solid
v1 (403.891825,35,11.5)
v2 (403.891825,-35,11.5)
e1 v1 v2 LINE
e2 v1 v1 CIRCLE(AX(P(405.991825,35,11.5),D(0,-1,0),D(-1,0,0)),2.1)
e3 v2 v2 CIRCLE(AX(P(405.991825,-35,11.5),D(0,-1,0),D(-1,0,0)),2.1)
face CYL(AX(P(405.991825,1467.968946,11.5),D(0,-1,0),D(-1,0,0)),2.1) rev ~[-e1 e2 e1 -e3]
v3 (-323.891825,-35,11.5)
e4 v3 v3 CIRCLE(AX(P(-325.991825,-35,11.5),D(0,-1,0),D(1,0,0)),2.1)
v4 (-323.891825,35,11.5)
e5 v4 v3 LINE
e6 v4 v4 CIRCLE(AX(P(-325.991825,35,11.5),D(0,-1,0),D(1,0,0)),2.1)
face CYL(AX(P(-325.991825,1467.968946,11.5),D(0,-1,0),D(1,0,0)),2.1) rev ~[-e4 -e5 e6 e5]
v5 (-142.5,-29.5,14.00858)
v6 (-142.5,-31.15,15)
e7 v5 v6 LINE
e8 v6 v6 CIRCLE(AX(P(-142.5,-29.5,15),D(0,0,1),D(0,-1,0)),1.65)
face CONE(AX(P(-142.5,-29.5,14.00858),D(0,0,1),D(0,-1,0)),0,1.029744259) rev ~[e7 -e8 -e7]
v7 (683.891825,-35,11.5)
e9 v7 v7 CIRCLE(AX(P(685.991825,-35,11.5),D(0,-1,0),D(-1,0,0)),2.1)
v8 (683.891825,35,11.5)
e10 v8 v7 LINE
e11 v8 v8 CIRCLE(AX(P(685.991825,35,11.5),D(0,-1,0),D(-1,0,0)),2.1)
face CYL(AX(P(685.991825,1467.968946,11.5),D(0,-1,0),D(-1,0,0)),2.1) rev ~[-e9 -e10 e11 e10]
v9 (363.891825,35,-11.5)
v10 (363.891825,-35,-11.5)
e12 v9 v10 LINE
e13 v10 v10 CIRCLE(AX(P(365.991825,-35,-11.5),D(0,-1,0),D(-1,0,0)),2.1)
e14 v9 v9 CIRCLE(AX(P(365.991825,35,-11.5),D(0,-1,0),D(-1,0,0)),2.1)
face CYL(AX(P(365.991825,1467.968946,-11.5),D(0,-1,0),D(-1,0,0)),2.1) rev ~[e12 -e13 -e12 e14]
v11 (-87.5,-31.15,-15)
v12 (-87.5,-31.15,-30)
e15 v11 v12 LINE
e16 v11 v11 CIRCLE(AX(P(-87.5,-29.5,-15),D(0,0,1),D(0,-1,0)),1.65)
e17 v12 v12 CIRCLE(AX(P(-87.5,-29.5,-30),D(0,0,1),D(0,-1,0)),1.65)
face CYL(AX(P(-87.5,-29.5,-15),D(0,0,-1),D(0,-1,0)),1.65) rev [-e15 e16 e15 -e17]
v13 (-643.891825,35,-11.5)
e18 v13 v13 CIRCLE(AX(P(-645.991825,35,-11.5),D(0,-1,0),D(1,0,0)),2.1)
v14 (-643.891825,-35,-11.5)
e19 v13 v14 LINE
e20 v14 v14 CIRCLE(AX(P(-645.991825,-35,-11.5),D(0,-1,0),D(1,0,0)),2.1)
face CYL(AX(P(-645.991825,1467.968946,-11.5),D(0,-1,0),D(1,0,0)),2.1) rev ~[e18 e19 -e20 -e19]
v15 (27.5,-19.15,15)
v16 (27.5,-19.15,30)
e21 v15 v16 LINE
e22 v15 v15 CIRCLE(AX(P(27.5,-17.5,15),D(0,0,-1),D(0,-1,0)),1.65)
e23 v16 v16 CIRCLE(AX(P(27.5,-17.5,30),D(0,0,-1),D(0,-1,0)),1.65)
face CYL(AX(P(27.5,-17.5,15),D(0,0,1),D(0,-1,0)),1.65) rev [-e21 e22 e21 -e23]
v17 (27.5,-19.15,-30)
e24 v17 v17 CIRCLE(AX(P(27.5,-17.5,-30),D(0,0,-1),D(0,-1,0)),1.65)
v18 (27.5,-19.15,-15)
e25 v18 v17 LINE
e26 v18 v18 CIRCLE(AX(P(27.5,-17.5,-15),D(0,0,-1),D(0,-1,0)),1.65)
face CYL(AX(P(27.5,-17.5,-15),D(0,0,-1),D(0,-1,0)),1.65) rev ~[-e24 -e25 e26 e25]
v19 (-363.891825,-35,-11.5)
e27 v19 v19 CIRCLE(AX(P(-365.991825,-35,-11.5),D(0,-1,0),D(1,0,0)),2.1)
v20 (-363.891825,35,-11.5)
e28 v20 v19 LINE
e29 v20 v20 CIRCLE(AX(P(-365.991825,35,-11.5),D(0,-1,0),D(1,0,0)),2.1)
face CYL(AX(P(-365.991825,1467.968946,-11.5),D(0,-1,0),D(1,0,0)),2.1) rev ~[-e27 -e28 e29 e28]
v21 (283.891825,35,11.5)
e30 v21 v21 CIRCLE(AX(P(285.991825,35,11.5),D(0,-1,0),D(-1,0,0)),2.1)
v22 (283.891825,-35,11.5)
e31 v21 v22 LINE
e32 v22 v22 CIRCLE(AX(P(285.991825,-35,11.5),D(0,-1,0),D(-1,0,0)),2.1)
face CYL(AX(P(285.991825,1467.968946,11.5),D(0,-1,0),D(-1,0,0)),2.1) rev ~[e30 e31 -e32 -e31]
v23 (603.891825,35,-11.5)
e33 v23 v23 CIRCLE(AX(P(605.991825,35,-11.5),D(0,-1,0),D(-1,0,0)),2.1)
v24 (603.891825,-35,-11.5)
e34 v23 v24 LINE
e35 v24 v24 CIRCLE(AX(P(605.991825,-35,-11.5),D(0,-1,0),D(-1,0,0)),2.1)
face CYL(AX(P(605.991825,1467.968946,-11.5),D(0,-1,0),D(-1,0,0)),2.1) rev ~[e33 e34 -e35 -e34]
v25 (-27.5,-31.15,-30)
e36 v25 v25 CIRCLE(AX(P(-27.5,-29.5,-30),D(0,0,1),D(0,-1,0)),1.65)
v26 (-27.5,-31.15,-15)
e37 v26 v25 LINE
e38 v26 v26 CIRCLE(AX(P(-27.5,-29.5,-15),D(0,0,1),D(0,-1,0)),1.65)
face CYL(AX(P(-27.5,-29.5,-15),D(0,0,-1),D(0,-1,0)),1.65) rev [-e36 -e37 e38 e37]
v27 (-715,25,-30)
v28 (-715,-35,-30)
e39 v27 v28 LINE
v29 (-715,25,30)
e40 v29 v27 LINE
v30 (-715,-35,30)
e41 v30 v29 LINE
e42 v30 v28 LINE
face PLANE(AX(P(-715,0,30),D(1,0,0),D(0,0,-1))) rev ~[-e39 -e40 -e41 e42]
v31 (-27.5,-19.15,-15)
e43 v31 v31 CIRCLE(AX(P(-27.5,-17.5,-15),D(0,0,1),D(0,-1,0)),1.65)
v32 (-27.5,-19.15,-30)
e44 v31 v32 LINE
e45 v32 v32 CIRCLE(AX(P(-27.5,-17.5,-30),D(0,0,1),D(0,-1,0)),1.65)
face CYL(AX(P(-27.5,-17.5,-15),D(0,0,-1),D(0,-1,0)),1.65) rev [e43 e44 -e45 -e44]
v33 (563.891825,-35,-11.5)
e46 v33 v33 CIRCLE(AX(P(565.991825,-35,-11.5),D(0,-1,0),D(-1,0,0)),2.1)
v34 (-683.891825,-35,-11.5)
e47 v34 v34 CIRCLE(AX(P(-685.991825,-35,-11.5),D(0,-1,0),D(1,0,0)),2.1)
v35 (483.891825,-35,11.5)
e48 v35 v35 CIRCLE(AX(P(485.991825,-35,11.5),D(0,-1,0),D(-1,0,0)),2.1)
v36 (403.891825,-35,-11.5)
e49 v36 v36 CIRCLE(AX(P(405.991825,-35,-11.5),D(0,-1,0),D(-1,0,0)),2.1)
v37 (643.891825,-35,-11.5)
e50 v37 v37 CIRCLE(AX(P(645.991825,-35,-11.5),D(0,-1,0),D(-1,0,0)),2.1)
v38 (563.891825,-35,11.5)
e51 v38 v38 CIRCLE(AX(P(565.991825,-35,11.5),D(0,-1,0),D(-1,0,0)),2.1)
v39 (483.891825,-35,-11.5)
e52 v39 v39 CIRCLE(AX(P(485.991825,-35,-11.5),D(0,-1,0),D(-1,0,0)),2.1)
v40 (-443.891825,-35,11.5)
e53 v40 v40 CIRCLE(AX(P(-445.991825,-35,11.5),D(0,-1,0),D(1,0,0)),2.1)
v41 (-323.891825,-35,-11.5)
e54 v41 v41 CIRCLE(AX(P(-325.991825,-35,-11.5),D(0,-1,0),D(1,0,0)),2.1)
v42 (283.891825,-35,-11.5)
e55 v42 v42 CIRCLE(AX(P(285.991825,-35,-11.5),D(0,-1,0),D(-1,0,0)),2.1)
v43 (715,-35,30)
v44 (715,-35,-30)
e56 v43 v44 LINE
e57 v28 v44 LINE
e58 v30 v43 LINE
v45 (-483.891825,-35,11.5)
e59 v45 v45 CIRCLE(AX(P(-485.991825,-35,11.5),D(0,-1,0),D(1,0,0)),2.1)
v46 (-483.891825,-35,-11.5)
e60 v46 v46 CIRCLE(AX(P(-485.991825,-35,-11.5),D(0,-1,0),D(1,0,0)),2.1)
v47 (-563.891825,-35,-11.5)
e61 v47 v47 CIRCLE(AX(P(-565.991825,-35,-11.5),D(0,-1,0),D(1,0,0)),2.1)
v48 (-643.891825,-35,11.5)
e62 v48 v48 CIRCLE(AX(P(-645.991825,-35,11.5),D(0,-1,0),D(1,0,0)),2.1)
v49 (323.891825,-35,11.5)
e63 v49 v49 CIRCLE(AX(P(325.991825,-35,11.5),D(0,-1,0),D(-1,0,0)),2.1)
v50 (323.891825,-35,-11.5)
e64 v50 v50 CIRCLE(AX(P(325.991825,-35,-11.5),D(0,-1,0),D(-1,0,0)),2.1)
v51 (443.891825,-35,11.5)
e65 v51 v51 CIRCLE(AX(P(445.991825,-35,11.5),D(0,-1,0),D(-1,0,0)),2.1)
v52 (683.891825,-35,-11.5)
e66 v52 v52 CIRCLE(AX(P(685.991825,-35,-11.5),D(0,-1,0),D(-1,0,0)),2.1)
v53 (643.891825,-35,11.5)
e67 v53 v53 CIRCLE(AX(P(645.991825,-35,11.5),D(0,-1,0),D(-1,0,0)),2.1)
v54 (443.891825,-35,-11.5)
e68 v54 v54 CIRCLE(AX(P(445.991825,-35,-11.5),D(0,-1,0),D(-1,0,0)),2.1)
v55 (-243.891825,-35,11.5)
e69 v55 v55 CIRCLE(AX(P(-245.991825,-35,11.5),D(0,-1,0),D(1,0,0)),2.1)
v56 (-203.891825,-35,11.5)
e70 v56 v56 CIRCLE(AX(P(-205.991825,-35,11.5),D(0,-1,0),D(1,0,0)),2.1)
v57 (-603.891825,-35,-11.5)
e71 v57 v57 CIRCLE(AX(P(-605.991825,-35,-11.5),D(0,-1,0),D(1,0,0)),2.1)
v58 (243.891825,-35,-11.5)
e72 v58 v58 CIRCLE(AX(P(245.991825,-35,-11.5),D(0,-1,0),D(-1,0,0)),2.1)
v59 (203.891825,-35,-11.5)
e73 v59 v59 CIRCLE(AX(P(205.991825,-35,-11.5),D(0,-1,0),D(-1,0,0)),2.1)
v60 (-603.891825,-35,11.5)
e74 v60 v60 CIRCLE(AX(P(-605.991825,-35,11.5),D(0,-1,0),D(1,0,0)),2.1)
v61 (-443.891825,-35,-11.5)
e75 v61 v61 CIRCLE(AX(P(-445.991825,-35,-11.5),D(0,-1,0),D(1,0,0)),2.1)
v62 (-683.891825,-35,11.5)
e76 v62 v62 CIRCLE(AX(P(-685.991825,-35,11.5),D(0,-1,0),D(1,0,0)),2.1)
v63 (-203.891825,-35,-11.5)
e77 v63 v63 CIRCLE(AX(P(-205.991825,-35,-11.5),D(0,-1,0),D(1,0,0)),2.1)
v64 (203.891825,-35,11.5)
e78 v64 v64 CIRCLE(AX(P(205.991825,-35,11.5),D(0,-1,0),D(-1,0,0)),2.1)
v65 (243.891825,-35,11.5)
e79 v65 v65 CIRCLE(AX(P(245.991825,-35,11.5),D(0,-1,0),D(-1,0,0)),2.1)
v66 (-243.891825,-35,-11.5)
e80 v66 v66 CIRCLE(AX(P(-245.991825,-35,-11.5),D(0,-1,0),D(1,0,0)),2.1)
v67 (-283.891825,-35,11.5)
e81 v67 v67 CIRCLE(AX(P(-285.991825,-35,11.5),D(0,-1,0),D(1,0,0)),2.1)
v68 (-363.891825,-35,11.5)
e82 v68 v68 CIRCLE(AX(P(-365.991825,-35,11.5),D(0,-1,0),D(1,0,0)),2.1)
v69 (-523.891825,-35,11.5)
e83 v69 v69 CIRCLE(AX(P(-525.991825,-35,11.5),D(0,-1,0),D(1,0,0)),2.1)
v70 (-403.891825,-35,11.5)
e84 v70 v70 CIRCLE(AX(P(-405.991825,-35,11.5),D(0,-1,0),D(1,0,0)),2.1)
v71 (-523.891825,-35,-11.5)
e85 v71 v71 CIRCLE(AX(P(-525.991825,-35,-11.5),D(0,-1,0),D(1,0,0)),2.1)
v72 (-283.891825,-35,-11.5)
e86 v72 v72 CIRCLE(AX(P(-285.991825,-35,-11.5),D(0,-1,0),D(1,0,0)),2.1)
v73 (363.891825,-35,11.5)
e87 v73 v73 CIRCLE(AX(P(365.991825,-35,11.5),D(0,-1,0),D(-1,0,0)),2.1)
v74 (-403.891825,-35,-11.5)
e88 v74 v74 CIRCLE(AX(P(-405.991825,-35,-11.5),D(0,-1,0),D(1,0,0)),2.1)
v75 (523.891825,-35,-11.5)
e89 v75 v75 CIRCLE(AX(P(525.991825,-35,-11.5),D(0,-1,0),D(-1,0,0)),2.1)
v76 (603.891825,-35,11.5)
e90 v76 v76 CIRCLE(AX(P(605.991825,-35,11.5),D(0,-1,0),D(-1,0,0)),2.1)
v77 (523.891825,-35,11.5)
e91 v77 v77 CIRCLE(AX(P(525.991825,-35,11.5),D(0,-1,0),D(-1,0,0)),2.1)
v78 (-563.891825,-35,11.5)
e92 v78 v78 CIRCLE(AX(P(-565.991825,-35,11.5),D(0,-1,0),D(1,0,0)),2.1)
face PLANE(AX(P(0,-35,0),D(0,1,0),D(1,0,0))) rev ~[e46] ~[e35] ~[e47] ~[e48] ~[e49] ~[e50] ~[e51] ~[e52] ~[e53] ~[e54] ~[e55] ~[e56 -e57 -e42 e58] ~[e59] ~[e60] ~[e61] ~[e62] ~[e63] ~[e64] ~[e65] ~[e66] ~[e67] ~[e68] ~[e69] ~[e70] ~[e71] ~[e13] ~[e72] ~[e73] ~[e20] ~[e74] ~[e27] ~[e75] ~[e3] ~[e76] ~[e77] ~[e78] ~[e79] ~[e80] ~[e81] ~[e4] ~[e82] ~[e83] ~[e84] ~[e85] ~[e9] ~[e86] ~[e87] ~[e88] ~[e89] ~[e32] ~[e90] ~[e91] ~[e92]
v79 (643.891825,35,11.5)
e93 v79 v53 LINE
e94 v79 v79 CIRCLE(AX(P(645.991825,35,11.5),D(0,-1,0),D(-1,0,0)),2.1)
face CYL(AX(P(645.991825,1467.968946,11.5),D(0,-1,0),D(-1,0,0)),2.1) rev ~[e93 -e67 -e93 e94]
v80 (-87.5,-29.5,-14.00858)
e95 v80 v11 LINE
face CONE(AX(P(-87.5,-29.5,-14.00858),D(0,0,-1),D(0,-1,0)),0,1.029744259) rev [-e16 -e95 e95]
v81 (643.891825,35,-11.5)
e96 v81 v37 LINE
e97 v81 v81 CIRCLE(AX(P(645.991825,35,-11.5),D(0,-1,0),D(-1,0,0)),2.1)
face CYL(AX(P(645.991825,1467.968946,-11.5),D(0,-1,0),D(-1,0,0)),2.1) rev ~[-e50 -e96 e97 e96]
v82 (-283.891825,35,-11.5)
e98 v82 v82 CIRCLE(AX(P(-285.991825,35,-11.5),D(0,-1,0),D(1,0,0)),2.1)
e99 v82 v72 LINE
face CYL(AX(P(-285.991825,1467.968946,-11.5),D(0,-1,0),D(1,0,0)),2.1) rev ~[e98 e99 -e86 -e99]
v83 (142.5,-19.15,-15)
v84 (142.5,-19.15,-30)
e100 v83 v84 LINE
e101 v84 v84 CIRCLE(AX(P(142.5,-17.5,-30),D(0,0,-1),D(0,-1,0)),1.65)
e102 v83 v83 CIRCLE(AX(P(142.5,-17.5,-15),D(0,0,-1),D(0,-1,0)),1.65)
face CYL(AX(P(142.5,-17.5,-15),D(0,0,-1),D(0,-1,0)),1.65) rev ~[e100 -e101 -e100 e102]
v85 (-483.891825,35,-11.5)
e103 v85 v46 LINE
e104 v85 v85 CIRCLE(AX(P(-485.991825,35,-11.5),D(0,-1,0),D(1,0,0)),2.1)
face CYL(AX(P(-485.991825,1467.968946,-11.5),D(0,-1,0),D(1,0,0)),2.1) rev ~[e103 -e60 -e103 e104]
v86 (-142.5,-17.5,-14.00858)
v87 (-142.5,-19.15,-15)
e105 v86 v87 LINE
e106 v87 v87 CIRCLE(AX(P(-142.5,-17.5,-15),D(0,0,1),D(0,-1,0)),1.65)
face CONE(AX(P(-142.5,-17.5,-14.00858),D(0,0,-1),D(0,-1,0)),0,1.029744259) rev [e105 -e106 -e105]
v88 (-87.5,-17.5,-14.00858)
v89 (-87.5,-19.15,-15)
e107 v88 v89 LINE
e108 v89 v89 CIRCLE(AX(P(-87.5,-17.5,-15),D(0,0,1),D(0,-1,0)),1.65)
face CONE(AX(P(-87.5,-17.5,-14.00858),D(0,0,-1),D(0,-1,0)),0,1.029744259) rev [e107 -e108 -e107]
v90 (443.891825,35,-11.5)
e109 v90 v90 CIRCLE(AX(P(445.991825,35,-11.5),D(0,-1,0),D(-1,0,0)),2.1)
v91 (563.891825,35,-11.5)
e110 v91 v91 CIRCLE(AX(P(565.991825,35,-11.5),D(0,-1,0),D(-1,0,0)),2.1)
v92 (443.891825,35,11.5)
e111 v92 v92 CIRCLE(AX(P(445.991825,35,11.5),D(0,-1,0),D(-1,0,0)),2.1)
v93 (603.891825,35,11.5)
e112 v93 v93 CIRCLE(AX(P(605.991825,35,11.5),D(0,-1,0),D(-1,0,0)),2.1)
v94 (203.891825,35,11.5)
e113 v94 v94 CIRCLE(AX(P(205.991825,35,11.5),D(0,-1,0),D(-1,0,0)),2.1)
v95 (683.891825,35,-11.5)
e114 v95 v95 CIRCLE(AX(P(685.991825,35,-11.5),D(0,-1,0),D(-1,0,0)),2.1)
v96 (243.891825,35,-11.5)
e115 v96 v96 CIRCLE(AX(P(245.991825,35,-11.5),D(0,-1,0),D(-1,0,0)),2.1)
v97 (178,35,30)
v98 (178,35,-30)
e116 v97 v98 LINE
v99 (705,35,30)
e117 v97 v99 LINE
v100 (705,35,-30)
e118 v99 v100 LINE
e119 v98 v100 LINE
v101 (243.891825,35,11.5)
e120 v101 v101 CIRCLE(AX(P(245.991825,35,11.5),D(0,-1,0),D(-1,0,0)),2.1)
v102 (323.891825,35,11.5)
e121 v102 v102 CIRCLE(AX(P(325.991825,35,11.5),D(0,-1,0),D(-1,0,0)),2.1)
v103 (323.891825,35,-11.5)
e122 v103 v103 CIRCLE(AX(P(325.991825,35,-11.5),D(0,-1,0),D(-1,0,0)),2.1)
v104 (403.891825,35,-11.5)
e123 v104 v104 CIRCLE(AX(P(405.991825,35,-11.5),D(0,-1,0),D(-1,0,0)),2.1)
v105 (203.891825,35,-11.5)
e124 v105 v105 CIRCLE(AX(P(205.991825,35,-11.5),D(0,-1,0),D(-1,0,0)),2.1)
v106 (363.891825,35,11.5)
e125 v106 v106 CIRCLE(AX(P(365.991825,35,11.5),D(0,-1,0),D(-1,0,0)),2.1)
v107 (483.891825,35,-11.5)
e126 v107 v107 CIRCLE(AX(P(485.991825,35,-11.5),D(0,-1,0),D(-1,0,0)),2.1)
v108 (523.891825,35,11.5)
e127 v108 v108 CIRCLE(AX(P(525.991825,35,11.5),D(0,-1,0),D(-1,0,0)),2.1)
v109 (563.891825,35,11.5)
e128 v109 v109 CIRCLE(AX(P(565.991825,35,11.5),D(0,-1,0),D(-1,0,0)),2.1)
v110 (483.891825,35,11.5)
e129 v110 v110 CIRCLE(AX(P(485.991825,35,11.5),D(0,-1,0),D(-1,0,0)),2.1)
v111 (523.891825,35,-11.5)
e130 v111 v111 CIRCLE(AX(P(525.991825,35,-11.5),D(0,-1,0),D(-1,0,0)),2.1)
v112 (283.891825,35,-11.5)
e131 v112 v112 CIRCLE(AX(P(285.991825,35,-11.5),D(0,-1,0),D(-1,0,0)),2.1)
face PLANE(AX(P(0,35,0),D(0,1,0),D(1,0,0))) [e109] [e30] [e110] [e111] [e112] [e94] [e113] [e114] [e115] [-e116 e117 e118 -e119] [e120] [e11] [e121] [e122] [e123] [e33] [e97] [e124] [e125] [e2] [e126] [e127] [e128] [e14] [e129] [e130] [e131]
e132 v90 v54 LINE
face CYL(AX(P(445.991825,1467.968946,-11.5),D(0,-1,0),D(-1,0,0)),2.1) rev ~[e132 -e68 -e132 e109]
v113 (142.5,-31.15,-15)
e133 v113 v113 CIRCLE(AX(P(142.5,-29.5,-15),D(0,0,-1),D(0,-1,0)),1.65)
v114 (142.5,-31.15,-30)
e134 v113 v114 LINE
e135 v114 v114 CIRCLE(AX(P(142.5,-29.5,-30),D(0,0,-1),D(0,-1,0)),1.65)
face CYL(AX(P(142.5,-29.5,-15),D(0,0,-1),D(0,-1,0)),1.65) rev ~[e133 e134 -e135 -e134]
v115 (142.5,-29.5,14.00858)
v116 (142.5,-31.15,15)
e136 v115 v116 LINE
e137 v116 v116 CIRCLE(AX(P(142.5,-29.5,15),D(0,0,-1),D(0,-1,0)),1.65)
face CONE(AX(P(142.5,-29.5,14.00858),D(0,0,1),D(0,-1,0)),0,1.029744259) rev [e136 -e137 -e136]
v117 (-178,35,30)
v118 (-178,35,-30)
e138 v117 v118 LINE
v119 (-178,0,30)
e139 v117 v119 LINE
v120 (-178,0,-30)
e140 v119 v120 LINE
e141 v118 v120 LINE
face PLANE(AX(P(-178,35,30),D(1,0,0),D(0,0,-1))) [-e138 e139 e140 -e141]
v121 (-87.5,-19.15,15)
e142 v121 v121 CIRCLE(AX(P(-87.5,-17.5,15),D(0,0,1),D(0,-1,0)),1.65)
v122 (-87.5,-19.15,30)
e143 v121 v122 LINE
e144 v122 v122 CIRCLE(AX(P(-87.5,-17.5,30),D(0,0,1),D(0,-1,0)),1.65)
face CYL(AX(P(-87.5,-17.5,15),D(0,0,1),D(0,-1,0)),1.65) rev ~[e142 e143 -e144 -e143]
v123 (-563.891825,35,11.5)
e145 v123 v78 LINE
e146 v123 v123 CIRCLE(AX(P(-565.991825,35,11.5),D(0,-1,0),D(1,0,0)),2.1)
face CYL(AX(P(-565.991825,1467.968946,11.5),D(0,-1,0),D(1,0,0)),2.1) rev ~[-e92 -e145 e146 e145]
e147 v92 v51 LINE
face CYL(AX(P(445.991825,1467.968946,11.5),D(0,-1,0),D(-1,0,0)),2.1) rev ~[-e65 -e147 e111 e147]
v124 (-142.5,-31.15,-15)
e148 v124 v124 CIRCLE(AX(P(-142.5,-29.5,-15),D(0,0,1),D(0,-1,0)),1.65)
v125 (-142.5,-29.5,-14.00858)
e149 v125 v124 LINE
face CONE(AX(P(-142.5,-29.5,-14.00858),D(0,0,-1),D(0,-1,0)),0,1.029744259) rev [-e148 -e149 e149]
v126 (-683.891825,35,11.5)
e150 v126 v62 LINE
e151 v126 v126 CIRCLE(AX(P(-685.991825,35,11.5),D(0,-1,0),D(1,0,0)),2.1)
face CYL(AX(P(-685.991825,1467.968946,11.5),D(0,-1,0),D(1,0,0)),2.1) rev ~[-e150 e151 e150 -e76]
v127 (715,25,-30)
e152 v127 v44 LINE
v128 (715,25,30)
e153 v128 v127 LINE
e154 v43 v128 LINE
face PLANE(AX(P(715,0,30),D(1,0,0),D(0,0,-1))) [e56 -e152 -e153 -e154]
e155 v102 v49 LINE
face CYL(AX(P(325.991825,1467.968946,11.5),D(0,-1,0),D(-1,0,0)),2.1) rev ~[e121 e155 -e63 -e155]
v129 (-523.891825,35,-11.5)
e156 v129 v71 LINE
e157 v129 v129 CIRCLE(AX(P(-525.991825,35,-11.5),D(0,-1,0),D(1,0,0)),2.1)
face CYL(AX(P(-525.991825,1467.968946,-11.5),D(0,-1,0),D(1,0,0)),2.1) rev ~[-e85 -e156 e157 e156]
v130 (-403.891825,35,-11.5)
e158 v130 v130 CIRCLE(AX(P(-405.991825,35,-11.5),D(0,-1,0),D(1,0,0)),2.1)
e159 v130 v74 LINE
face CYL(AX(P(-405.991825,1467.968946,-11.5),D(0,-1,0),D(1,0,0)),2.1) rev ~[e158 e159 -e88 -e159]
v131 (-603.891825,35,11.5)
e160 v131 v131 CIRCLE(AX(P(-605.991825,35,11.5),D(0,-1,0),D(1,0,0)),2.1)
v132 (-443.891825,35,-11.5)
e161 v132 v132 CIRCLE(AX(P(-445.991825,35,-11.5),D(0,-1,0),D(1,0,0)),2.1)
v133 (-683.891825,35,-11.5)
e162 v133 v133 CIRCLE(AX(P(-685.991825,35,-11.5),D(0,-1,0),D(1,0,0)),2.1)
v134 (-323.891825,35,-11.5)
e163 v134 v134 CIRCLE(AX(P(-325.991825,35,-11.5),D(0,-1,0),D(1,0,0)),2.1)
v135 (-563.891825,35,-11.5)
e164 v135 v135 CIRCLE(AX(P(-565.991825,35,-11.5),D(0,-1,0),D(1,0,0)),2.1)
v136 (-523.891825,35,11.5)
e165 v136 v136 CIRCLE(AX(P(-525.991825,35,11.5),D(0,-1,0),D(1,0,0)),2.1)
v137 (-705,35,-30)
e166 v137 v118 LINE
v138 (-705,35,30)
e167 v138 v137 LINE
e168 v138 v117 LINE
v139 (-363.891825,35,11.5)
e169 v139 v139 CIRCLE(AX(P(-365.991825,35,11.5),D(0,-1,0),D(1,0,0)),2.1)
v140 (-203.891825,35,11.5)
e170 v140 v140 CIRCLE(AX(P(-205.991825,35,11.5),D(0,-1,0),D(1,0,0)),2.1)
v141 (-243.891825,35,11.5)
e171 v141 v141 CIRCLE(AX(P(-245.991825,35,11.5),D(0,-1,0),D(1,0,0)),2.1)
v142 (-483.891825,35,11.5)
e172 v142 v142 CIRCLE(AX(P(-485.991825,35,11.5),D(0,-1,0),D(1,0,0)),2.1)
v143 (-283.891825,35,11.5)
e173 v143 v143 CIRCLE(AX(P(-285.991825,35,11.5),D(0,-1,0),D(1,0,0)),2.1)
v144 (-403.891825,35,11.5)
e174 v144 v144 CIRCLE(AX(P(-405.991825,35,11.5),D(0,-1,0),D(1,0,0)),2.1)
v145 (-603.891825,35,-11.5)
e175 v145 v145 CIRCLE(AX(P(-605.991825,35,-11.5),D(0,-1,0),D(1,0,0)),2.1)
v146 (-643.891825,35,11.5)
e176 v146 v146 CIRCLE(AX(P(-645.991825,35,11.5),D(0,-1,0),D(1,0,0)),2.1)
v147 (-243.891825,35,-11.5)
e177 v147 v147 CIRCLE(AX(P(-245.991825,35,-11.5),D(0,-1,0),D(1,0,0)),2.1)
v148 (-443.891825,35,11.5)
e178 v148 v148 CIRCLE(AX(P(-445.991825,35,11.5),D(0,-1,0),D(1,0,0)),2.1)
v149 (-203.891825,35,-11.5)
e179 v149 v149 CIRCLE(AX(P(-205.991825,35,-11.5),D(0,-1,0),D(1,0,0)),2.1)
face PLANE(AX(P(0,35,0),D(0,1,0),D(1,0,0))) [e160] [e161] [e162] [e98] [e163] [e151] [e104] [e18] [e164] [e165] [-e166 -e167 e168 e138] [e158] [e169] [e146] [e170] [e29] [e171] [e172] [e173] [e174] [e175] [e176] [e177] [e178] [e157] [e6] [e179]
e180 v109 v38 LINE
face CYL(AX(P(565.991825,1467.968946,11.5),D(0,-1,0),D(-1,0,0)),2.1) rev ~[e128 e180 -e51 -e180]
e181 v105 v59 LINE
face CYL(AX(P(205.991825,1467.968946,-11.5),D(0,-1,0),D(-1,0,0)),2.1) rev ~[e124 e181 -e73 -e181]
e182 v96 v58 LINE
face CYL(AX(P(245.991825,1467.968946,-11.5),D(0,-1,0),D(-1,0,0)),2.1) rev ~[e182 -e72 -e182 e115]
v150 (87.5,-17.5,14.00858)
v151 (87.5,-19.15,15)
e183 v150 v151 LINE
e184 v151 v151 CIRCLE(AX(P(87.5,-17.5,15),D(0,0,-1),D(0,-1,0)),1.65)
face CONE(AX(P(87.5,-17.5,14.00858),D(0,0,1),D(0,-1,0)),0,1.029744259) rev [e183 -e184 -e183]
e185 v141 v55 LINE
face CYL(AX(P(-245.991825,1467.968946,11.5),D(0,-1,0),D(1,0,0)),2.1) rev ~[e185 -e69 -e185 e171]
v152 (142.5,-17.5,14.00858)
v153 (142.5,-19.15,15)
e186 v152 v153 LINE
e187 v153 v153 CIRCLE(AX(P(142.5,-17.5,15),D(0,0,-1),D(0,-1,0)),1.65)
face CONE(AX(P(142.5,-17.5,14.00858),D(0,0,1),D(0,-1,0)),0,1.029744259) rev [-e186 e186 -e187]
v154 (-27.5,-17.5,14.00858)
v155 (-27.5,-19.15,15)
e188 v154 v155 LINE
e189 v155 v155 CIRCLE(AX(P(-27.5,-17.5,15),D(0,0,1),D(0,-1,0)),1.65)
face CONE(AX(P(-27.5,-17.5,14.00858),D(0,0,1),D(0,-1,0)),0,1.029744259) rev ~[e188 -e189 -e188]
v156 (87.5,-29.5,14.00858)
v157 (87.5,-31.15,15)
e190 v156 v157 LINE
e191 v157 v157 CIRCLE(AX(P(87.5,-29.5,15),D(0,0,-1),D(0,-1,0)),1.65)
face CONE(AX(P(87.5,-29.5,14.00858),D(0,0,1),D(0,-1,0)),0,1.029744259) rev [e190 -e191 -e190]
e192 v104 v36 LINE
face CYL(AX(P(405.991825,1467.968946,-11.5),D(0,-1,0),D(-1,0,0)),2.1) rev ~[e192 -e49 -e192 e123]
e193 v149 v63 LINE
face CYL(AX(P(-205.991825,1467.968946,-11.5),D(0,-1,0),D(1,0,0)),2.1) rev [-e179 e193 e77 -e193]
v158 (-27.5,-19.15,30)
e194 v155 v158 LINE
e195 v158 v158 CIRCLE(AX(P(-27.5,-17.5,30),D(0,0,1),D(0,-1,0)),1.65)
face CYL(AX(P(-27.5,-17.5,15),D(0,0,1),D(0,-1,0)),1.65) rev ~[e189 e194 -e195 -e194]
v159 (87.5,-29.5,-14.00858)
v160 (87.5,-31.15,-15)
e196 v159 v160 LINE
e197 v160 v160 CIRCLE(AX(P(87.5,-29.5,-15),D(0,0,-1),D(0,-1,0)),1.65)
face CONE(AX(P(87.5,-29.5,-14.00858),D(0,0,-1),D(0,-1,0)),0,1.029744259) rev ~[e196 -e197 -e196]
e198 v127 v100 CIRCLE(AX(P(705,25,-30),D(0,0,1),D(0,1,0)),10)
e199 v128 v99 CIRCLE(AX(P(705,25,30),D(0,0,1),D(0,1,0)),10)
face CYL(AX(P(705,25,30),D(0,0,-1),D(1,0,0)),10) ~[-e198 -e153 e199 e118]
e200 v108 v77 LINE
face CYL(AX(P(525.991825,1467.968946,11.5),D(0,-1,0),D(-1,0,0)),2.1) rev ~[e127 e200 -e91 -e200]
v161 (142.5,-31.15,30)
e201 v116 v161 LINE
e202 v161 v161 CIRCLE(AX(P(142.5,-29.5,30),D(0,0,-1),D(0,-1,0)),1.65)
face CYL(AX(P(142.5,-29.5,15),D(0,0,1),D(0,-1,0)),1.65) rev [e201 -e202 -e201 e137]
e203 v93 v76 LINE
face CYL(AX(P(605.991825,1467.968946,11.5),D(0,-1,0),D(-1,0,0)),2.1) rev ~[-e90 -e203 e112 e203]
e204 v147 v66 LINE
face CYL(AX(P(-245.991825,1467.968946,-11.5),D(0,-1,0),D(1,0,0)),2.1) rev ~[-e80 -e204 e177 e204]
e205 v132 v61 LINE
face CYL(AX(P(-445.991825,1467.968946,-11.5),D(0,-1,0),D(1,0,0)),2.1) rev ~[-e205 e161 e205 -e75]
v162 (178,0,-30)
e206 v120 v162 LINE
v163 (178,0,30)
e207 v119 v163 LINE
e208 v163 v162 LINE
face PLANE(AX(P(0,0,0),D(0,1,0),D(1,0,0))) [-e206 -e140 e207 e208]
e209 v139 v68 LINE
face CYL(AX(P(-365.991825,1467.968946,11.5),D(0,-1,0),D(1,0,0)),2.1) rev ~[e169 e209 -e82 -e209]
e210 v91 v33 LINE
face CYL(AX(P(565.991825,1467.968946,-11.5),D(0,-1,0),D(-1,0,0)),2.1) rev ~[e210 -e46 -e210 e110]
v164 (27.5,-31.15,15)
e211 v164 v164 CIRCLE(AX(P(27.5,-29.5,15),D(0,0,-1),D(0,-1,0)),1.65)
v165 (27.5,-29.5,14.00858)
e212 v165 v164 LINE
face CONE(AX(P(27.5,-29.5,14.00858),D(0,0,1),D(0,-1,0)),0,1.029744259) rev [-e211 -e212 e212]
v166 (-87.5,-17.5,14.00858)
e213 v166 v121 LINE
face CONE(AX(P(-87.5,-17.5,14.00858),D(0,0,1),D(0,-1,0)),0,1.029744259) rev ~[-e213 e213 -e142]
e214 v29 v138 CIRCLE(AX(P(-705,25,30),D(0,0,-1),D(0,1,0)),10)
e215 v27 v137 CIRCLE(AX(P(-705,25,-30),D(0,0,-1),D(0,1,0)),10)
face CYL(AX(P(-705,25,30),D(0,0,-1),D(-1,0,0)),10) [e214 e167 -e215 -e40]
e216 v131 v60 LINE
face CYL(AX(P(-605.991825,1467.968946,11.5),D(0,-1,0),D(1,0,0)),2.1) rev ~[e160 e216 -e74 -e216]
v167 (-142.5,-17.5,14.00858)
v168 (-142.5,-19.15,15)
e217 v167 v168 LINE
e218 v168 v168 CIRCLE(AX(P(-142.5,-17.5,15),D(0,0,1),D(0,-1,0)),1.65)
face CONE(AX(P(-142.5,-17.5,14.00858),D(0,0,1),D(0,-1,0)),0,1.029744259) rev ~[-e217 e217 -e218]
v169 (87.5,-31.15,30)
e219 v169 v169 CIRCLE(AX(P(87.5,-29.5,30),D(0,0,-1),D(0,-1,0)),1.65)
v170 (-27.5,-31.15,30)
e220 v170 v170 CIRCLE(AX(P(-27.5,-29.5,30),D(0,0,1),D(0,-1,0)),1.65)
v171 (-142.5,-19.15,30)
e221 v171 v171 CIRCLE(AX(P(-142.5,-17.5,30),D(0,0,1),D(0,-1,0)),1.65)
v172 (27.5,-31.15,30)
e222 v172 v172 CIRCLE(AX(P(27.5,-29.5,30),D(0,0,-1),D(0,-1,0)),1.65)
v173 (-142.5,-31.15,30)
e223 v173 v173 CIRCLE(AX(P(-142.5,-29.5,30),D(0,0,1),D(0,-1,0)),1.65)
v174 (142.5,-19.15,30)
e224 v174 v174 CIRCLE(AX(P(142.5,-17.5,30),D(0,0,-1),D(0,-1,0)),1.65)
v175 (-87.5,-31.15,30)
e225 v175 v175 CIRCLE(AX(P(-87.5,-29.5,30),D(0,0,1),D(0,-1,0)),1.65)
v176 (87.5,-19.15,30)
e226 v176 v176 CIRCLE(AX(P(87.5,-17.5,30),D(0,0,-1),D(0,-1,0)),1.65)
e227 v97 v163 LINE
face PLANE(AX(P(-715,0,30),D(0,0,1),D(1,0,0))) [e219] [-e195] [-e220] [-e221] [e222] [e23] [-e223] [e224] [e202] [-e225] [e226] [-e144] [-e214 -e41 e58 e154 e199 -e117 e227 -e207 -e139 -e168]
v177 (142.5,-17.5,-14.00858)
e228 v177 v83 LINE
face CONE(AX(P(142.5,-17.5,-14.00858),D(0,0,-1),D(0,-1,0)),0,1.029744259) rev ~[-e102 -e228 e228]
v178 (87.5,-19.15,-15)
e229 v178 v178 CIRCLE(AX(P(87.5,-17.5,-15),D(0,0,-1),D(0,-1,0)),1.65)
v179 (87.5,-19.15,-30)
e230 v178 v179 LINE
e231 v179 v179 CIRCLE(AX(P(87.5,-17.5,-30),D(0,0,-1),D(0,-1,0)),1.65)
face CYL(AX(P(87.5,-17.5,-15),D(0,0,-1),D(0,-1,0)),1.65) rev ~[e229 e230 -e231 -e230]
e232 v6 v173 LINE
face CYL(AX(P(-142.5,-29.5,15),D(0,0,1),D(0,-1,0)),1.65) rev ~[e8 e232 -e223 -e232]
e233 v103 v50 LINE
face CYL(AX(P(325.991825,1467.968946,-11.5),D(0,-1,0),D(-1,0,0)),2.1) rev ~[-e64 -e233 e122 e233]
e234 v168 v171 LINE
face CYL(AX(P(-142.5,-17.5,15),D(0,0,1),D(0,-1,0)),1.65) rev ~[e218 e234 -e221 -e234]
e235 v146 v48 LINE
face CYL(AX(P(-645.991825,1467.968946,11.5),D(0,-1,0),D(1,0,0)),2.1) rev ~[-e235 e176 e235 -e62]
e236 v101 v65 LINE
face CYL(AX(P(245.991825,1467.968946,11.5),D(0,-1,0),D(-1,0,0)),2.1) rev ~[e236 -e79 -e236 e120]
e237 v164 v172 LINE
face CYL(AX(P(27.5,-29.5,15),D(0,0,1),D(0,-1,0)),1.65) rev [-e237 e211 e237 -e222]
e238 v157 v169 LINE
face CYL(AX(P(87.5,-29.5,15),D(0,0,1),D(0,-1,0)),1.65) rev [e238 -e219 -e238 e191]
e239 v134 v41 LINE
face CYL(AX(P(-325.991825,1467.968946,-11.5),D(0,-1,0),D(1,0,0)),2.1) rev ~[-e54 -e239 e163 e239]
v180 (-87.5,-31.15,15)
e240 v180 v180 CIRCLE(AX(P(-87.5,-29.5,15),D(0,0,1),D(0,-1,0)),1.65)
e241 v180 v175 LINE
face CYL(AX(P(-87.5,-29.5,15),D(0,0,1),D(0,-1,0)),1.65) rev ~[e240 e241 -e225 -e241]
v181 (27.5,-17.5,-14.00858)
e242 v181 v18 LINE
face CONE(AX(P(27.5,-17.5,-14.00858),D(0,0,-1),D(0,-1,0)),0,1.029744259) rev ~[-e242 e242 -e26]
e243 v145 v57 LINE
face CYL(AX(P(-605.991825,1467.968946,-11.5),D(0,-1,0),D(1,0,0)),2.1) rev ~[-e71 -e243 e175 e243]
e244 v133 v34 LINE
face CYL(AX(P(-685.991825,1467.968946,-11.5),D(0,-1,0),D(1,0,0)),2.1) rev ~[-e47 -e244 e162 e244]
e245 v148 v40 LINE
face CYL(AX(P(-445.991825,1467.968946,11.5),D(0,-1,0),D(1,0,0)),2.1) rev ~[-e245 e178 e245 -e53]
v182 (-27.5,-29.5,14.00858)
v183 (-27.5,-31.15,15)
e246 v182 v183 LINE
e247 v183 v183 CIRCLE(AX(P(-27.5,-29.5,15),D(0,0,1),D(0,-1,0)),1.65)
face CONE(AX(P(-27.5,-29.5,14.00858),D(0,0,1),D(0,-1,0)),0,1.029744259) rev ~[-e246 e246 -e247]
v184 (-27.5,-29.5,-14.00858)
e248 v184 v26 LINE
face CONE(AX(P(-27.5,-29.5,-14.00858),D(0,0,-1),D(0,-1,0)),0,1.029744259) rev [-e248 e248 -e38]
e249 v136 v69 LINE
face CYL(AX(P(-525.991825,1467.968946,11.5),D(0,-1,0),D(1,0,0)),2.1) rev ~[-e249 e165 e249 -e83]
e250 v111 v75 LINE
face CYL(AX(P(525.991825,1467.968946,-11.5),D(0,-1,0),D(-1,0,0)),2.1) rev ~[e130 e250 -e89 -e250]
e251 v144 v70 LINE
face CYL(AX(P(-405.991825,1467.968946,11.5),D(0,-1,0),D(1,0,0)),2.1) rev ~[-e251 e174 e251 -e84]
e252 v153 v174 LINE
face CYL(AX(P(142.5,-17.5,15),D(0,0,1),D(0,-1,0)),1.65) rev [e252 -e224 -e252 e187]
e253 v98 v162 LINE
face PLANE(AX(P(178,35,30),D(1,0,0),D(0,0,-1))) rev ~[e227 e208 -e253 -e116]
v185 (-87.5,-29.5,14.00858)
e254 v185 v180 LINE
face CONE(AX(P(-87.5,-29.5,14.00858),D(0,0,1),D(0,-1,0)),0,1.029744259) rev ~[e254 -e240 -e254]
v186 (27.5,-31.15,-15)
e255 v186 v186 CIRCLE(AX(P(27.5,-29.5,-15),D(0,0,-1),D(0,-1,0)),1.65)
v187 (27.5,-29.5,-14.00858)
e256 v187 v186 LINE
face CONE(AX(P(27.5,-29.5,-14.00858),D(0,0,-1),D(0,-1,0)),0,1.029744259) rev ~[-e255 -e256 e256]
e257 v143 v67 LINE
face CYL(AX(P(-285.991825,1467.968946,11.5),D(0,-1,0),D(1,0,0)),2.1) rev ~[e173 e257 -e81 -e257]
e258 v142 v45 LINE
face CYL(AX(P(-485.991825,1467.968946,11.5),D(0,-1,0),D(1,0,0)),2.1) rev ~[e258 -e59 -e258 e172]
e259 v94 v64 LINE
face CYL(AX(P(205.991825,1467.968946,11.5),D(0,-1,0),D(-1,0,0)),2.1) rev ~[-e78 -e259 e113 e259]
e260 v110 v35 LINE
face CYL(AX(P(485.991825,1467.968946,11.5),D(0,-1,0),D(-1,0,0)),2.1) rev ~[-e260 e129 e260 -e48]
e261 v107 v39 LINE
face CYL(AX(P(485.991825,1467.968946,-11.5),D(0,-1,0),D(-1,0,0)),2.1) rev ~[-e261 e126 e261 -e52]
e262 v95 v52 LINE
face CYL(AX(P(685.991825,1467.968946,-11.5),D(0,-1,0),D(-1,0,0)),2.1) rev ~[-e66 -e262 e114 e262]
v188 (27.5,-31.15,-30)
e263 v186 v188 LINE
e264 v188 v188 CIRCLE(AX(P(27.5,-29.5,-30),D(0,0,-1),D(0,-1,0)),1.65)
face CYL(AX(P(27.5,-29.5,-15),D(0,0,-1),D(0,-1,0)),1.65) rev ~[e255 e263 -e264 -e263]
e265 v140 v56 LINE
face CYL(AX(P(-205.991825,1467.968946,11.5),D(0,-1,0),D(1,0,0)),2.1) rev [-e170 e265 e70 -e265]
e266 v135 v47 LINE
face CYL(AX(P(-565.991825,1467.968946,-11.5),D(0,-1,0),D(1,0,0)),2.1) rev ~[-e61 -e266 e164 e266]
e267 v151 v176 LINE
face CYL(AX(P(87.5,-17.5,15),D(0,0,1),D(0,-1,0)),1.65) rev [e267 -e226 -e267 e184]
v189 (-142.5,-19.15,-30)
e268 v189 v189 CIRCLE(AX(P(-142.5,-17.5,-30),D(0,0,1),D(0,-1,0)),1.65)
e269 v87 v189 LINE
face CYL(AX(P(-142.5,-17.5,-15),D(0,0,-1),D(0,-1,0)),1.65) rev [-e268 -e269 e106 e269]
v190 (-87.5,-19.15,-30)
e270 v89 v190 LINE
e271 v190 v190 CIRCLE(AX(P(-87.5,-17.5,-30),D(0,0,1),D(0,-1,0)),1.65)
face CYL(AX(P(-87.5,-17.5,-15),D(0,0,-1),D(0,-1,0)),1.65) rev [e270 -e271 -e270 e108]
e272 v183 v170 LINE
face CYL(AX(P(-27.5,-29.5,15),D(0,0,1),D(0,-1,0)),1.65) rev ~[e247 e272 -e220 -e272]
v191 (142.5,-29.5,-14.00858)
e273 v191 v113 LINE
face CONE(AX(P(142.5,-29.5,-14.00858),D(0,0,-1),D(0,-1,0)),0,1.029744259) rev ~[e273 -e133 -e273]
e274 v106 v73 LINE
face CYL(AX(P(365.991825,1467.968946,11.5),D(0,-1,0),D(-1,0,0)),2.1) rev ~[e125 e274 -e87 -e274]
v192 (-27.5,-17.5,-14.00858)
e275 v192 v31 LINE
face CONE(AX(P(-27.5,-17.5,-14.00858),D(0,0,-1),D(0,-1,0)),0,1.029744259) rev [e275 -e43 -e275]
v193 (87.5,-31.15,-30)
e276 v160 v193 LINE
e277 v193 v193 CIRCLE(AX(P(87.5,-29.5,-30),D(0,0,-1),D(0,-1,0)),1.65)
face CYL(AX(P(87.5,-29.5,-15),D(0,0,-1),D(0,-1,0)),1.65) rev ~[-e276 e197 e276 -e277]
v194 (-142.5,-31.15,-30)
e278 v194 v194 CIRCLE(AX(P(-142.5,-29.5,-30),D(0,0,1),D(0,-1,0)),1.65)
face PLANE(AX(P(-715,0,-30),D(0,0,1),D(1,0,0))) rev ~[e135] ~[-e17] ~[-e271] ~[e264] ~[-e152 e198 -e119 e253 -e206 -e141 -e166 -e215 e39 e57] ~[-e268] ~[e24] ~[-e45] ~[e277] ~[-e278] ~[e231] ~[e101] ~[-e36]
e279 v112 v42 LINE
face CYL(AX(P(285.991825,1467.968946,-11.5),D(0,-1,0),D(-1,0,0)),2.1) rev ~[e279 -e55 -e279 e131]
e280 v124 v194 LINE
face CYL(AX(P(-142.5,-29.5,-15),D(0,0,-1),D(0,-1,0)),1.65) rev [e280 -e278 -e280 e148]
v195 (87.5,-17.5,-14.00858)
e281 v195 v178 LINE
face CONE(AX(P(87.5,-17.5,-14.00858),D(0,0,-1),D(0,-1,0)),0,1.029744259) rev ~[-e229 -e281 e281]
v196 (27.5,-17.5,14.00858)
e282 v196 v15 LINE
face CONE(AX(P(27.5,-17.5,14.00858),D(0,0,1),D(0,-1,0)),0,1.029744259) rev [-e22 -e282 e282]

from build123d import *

# Parameters (mm, degrees)
SKETCH1_W                      = 1430
SKETCH1_H                      = 60
BOSS_EXTRUDE1_DEPTH            = 35
SKETCH2_W                      = 356
SKETCH2_H                      = 60
CUT_EXTRUDE1_DEPTH             = 35
M5X0_8_TAPPED_HOLE2_D          = 4.2
LPATTERN1_COUNT                = 13
LPATTERN1_PITCH                = 40
MIRROR1_COPY_1_D               = 4.2
MIRROR1_COPY_2_D               = 4.2
MIRROR1_COPY_3_D               = 4.2
MIRROR1_COPY_4_D               = 4.2
MIRROR1_COPY_5_D               = 4.2
MIRROR1_COPY_6_D               = 4.2
MIRROR1_COPY_7_D               = 4.2
MIRROR1_COPY_8_D               = 4.2
MIRROR1_COPY_9_D               = 4.2
MIRROR1_COPY_10_D              = 4.2
MIRROR1_COPY_11_D              = 4.2
MIRROR1_COPY_12_D              = 4.2
M4X0_7_TAPPED_HOLE1_AT_2_COUNT = 2
M4X0_7_TAPPED_HOLE1_AT_2_PITCH = 12
M4X0_7_TAPPED_HOLE1_AT_3_COUNT = 2
M4X0_7_TAPPED_HOLE1_AT_3_PITCH = 55
M4X0_7_TAPPED_HOLE1_AT_4_COUNT = 2
M4X0_7_TAPPED_HOLE1_AT_4_PITCH = 56.29387178
M4X0_7_TAPPED_HOLE1_AT_5_COUNT = 2
M4X0_7_TAPPED_HOLE1_AT_5_PITCH = 115
M4X0_7_TAPPED_HOLE1_AT_6_COUNT = 2
M4X0_7_TAPPED_HOLE1_AT_6_PITCH = 115.62439189
FILLET1_R                      = 10


with BuildPart() as part:
    # Sketch1 → Boss-Extrude1 (new body, symmetric)
    with BuildSketch(Plane(origin=(0, 0, 0), x_dir=(1, 0, 0), z_dir=(0, 1, 0))):
        Rectangle(SKETCH1_W, SKETCH1_H)
    extrude(amount=BOSS_EXTRUDE1_DEPTH, both=True)

    # Sketch2 → Cut-Extrude1 (cut)
    with BuildSketch(Plane(origin=(0, 35, 0), x_dir=(1, 0, 0), z_dir=(0, 1, 0))):
        Rectangle(SKETCH2_W, SKETCH2_H)
    extrude(amount=-CUT_EXTRUDE1_DEPTH, mode=Mode.SUBTRACT)

    # M5x0.8 Tapped Hole2 (through all)
    with Locations(Plane(origin=(0, 35, 0), x_dir=(1, 0, 0), z_dir=(0, 1, 0))):
        with Locations((205.9918251, 11.5), (205.9918251, -11.5)):
            m5x0_8_tapped_hole2 = Hole(M5X0_8_TAPPED_HOLE2_D / 2)

    # LPattern1: M5x0.8 Tapped Hole2 ×13
    with Locations(*[(i * LPATTERN1_PITCH, 0, 0) for i in range(1, LPATTERN1_COUNT)]):
        add(m5x0_8_tapped_hole2, mode=Mode.SUBTRACT)

    # Mirror1: M5x0.8 Tapped Hole2 across plane
    add(m5x0_8_tapped_hole2.mirror(Plane(origin=(0, 0, 0), x_dir=(0, 0, 1), z_dir=(1, 0, 0))), mode=Mode.SUBTRACT)

    # Mirror1 copy 1 (through all)
    with Locations(Plane(origin=(-40, 35, 0), x_dir=(-1, 0, 0), z_dir=(0, 1, 0))):
        with Locations((205.9918251, -11.5), (205.9918251, 11.5)):
            Hole(MIRROR1_COPY_1_D / 2)

    # Mirror1 copy 2 (through all)
    with Locations(Plane(origin=(-80, 35, 0), x_dir=(-1, 0, 0), z_dir=(0, 1, 0))):
        with Locations((205.9918251, -11.5), (205.9918251, 11.5)):
            Hole(MIRROR1_COPY_2_D / 2)

    # Mirror1 copy 3 (through all)
    with Locations(Plane(origin=(-120, 35, 0), x_dir=(-1, 0, 0), z_dir=(0, 1, 0))):
        with Locations((205.9918251, -11.5), (205.9918251, 11.5)):
            Hole(MIRROR1_COPY_3_D / 2)

    # Mirror1 copy 4 (through all)
    with Locations(Plane(origin=(-160, 35, 0), x_dir=(-1, 0, 0), z_dir=(0, 1, 0))):
        with Locations((205.9918251, -11.5), (205.9918251, 11.5)):
            Hole(MIRROR1_COPY_4_D / 2)

    # Mirror1 copy 5 (through all)
    with Locations(Plane(origin=(-200, 35, 0), x_dir=(-1, 0, 0), z_dir=(0, 1, 0))):
        with Locations((205.9918251, -11.5), (205.9918251, 11.5)):
            Hole(MIRROR1_COPY_5_D / 2)

    # Mirror1 copy 6 (through all)
    with Locations(Plane(origin=(-240, 35, 0), x_dir=(-1, 0, 0), z_dir=(0, 1, 0))):
        with Locations((205.9918251, -11.5), (205.9918251, 11.5)):
            Hole(MIRROR1_COPY_6_D / 2)

    # Mirror1 copy 7 (through all)
    with Locations(Plane(origin=(-280, 35, 0), x_dir=(-1, 0, 0), z_dir=(0, 1, 0))):
        with Locations((205.9918251, -11.5), (205.9918251, 11.5)):
            Hole(MIRROR1_COPY_7_D / 2)

    # Mirror1 copy 8 (through all)
    with Locations(Plane(origin=(-320, 35, 0), x_dir=(-1, 0, 0), z_dir=(0, 1, 0))):
        with Locations((205.9918251, -11.5), (205.9918251, 11.5)):
            Hole(MIRROR1_COPY_8_D / 2)

    # Mirror1 copy 9 (through all)
    with Locations(Plane(origin=(-360, 35, 0), x_dir=(-1, 0, 0), z_dir=(0, 1, 0))):
        with Locations((205.9918251, -11.5), (205.9918251, 11.5)):
            Hole(MIRROR1_COPY_9_D / 2)

    # Mirror1 copy 10 (through all)
    with Locations(Plane(origin=(-400, 35, 0), x_dir=(-1, 0, 0), z_dir=(0, 1, 0))):
        with Locations((205.9918251, -11.5), (205.9918251, 11.5)):
            Hole(MIRROR1_COPY_10_D / 2)

    # Mirror1 copy 11 (through all)
    with Locations(Plane(origin=(-440, 35, 0), x_dir=(-1, 0, 0), z_dir=(0, 1, 0))):
        with Locations((205.9918251, -11.5), (205.9918251, 11.5)):
            Hole(MIRROR1_COPY_11_D / 2)

    # Mirror1 copy 12 (through all)
    with Locations(Plane(origin=(-480, 35, 0), x_dir=(-1, 0, 0), z_dir=(0, 1, 0))):
        with Locations((205.9918251, -11.5), (205.9918251, 11.5)):
            Hole(MIRROR1_COPY_12_D / 2)

    # Sketch10 → M4x0.7 Tapped Hole1 (revolve, cut)
    with BuildSketch(Plane(origin=(142.5, -17.5, 30), x_dir=(0, -1, 0), z_dir=(1, 0, 0))):
        Polygon((0, 0), (0, 15.991420021), (1.65, 15), (1.65, 0), align=None)
    m4x0_7_tapped_hole1 = revolve(axis=Axis((142.5, -17.5, 36.35), (0, 0, -1)), mode=Mode.SUBTRACT)

    # M4x0.7 Tapped Hole1 at 2: M4x0.7 Tapped Hole1 ×2
    with Locations(*[(0, -i * M4X0_7_TAPPED_HOLE1_AT_2_PITCH, 0) for i in range(1, M4X0_7_TAPPED_HOLE1_AT_2_COUNT)]):
        add(m4x0_7_tapped_hole1, mode=Mode.SUBTRACT)

    # M4x0.7 Tapped Hole1 at 3: M4x0.7 Tapped Hole1 ×2
    with Locations(*[(-i * M4X0_7_TAPPED_HOLE1_AT_3_PITCH, 0, 0) for i in range(1, M4X0_7_TAPPED_HOLE1_AT_3_COUNT)]):
        add(m4x0_7_tapped_hole1, mode=Mode.SUBTRACT)

    # M4x0.7 Tapped Hole1 at 4: M4x0.7 Tapped Hole1 ×2
    with Locations(*[Vector(-0.977015761, -0.213167075, 0) * (i * M4X0_7_TAPPED_HOLE1_AT_4_PITCH) for i in range(1, M4X0_7_TAPPED_HOLE1_AT_4_COUNT)]):
        add(m4x0_7_tapped_hole1, mode=Mode.SUBTRACT)

    # M4x0.7 Tapped Hole1 at 5: M4x0.7 Tapped Hole1 ×2
    with Locations(*[(-i * M4X0_7_TAPPED_HOLE1_AT_5_PITCH, 0, 0) for i in range(1, M4X0_7_TAPPED_HOLE1_AT_5_COUNT)]):
        add(m4x0_7_tapped_hole1, mode=Mode.SUBTRACT)

    # M4x0.7 Tapped Hole1 at 6: M4x0.7 Tapped Hole1 ×2
    with Locations(*[Vector(-0.994599826, -0.10378433, 0) * (i * M4X0_7_TAPPED_HOLE1_AT_6_PITCH) for i in range(1, M4X0_7_TAPPED_HOLE1_AT_6_COUNT)]):
        add(m4x0_7_tapped_hole1, mode=Mode.SUBTRACT)

    # Mirror2: M4x0.7 Tapped Hole1 across plane
    add(m4x0_7_tapped_hole1.mirror(Plane(origin=(0, 0, 0), x_dir=(0, 0, 1), z_dir=(1, 0, 0))), mode=Mode.SUBTRACT)

    # Mirror2 copy 1 sketch → Mirror2 copy 1 (revolve, cut)
    with BuildSketch(Plane(origin=(-142.5, -29.5, 30), x_dir=(0, -1, 0), z_dir=(-1, 0, 0))):
        Polygon((0, 0), (0, -15.991420021), (1.65, -15), (1.65, 0), align=None)
    revolve(axis=Axis((-142.5, -29.5, 36.35), (0, 0, 1)), mode=Mode.SUBTRACT)

    # Mirror2 copy 2 sketch → Mirror2 copy 2 (revolve, cut)
    with BuildSketch(Plane(origin=(-87.5, -17.5, 30), x_dir=(0, -1, 0), z_dir=(-1, 0, 0))):
        Polygon((0, 0), (0, -15.991420021), (1.65, -15), (1.65, 0), align=None)
    revolve(axis=Axis((-87.5, -17.5, 36.35), (0, 0, 1)), mode=Mode.SUBTRACT)

    # Mirror2 copy 3 sketch → Mirror2 copy 3 (revolve, cut)
    with BuildSketch(Plane(origin=(-87.5, -29.5, 30), x_dir=(0, -1, 0), z_dir=(-1, 0, 0))):
        Polygon((0, 0), (0, -15.991420021), (1.65, -15), (1.65, 0), align=None)
    revolve(axis=Axis((-87.5, -29.5, 36.35), (0, 0, 1)), mode=Mode.SUBTRACT)

    # Mirror2 copy 4 sketch → Mirror2 copy 4 (revolve, cut)
    with BuildSketch(Plane(origin=(-27.5, -17.5, 30), x_dir=(0, -1, 0), z_dir=(-1, 0, 0))):
        Polygon((0, 0), (0, -15.991420021), (1.65, -15), (1.65, 0), align=None)
    revolve(axis=Axis((-27.5, -17.5, 36.35), (0, 0, 1)), mode=Mode.SUBTRACT)

    # Mirror2 copy 5 sketch → Mirror2 copy 5 (revolve, cut)
    with BuildSketch(Plane(origin=(-27.5, -29.5, 30), x_dir=(0, -1, 0), z_dir=(-1, 0, 0))):
        Polygon((0, 0), (0, -15.991420021), (1.65, -15), (1.65, 0), align=None)
    revolve(axis=Axis((-27.5, -29.5, 36.35), (0, 0, 1)), mode=Mode.SUBTRACT)

    # Mirror3: M4x0.7 Tapped Hole1 across plane
    add(m4x0_7_tapped_hole1.mirror(Plane.XY), mode=Mode.SUBTRACT)

    # Mirror3 copy 1 sketch → Mirror3 copy 1 (revolve, cut)
    with BuildSketch(Plane(origin=(-142.5, -17.5, -30), x_dir=(0, -1, 0), z_dir=(-1, 0, 0))):
        Polygon((0, 0), (0, 15.991420021), (1.65, 15), (1.65, 0), align=None)
    revolve(axis=Axis((-142.5, -17.5, -36.35), (0, 0, 1)), mode=Mode.SUBTRACT)

    # Mirror3 copy 2 sketch → Mirror3 copy 2 (revolve, cut)
    with BuildSketch(Plane(origin=(-142.5, -29.5, -30), x_dir=(0, -1, 0), z_dir=(-1, 0, 0))):
        Polygon((0, 0), (0, 15.991420021), (1.65, 15), (1.65, 0), align=None)
    revolve(axis=Axis((-142.5, -29.5, -36.35), (0, 0, 1)), mode=Mode.SUBTRACT)

    # Mirror3 copy 3 sketch → Mirror3 copy 3 (revolve, cut)
    with BuildSketch(Plane(origin=(-87.5, -17.5, -30), x_dir=(0, -1, 0), z_dir=(-1, 0, 0))):
        Polygon((0, 0), (0, 15.991420021), (1.65, 15), (1.65, 0), align=None)
    revolve(axis=Axis((-87.5, -17.5, -36.35), (0, 0, 1)), mode=Mode.SUBTRACT)

    # Mirror3 copy 4 sketch → Mirror3 copy 4 (revolve, cut)
    with BuildSketch(Plane(origin=(-87.5, -29.5, -30), x_dir=(0, -1, 0), z_dir=(-1, 0, 0))):
        Polygon((0, 0), (0, 15.991420021), (1.65, 15), (1.65, 0), align=None)
    revolve(axis=Axis((-87.5, -29.5, -36.35), (0, 0, 1)), mode=Mode.SUBTRACT)

    # Mirror3 copy 5 sketch → Mirror3 copy 5 (revolve, cut)
    with BuildSketch(Plane(origin=(-27.5, -17.5, -30), x_dir=(0, -1, 0), z_dir=(-1, 0, 0))):
        Polygon((0, 0), (0, 15.991420021), (1.65, 15), (1.65, 0), align=None)
    revolve(axis=Axis((-27.5, -17.5, -36.35), (0, 0, 1)), mode=Mode.SUBTRACT)

    # Mirror3 copy 6 sketch → Mirror3 copy 6 (revolve, cut)
    with BuildSketch(Plane(origin=(-27.5, -29.5, -30), x_dir=(0, -1, 0), z_dir=(-1, 0, 0))):
        Polygon((0, 0), (0, 15.991420021), (1.65, 15), (1.65, 0), align=None)
    revolve(axis=Axis((-27.5, -29.5, -36.35), (0, 0, 1)), mode=Mode.SUBTRACT)

    # Mirror3 copy 7 sketch → Mirror3 copy 7 (revolve, cut)
    with BuildSketch(Plane(origin=(142.5, -29.5, -30), x_dir=(0, -1, 0), z_dir=(1, 0, 0))):
        Polygon((0, 0), (0, -15.991420021), (1.65, -15), (1.65, 0), align=None)
    revolve(axis=Axis((142.5, -29.5, -36.35), (0, 0, -1)), mode=Mode.SUBTRACT)

    # Mirror3 copy 8 sketch → Mirror3 copy 8 (revolve, cut)
    with BuildSketch(Plane(origin=(87.5, -17.5, -30), x_dir=(0, -1, 0), z_dir=(1, 0, 0))):
        Polygon((0, 0), (0, -15.991420021), (1.65, -15), (1.65, 0), align=None)
    revolve(axis=Axis((87.5, -17.5, -36.35), (0, 0, -1)), mode=Mode.SUBTRACT)

    # Mirror3 copy 9 sketch → Mirror3 copy 9 (revolve, cut)
    with BuildSketch(Plane(origin=(87.5, -29.5, -30), x_dir=(0, -1, 0), z_dir=(1, 0, 0))):
        Polygon((0, 0), (0, -15.991420021), (1.65, -15), (1.65, 0), align=None)
    revolve(axis=Axis((87.5, -29.5, -36.35), (0, 0, -1)), mode=Mode.SUBTRACT)

    # Mirror3 copy 10 sketch → Mirror3 copy 10 (revolve, cut)
    with BuildSketch(Plane(origin=(27.5, -17.5, -30), x_dir=(0, -1, 0), z_dir=(1, 0, 0))):
        Polygon((0, 0), (0, -15.991420021), (1.65, -15), (1.65, 0), align=None)
    revolve(axis=Axis((27.5, -17.5, -36.35), (0, 0, -1)), mode=Mode.SUBTRACT)

    # Mirror3 copy 11 sketch → Mirror3 copy 11 (revolve, cut)
    with BuildSketch(Plane(origin=(27.5, -29.5, -30), x_dir=(0, -1, 0), z_dir=(1, 0, 0))):
        Polygon((0, 0), (0, -15.991420021), (1.65, -15), (1.65, 0), align=None)
    revolve(axis=Axis((27.5, -29.5, -36.35), (0, 0, -1)), mode=Mode.SUBTRACT)

    # Fillet1
    fillet1_edges = [part.edges().sort_by_distance(p)[0] for p in [
        (715, 35, 0),
        (-715, 35, 0),
    ]]
    fillet(fillet1_edges, radius=FILLET1_R)


solid = part.part
